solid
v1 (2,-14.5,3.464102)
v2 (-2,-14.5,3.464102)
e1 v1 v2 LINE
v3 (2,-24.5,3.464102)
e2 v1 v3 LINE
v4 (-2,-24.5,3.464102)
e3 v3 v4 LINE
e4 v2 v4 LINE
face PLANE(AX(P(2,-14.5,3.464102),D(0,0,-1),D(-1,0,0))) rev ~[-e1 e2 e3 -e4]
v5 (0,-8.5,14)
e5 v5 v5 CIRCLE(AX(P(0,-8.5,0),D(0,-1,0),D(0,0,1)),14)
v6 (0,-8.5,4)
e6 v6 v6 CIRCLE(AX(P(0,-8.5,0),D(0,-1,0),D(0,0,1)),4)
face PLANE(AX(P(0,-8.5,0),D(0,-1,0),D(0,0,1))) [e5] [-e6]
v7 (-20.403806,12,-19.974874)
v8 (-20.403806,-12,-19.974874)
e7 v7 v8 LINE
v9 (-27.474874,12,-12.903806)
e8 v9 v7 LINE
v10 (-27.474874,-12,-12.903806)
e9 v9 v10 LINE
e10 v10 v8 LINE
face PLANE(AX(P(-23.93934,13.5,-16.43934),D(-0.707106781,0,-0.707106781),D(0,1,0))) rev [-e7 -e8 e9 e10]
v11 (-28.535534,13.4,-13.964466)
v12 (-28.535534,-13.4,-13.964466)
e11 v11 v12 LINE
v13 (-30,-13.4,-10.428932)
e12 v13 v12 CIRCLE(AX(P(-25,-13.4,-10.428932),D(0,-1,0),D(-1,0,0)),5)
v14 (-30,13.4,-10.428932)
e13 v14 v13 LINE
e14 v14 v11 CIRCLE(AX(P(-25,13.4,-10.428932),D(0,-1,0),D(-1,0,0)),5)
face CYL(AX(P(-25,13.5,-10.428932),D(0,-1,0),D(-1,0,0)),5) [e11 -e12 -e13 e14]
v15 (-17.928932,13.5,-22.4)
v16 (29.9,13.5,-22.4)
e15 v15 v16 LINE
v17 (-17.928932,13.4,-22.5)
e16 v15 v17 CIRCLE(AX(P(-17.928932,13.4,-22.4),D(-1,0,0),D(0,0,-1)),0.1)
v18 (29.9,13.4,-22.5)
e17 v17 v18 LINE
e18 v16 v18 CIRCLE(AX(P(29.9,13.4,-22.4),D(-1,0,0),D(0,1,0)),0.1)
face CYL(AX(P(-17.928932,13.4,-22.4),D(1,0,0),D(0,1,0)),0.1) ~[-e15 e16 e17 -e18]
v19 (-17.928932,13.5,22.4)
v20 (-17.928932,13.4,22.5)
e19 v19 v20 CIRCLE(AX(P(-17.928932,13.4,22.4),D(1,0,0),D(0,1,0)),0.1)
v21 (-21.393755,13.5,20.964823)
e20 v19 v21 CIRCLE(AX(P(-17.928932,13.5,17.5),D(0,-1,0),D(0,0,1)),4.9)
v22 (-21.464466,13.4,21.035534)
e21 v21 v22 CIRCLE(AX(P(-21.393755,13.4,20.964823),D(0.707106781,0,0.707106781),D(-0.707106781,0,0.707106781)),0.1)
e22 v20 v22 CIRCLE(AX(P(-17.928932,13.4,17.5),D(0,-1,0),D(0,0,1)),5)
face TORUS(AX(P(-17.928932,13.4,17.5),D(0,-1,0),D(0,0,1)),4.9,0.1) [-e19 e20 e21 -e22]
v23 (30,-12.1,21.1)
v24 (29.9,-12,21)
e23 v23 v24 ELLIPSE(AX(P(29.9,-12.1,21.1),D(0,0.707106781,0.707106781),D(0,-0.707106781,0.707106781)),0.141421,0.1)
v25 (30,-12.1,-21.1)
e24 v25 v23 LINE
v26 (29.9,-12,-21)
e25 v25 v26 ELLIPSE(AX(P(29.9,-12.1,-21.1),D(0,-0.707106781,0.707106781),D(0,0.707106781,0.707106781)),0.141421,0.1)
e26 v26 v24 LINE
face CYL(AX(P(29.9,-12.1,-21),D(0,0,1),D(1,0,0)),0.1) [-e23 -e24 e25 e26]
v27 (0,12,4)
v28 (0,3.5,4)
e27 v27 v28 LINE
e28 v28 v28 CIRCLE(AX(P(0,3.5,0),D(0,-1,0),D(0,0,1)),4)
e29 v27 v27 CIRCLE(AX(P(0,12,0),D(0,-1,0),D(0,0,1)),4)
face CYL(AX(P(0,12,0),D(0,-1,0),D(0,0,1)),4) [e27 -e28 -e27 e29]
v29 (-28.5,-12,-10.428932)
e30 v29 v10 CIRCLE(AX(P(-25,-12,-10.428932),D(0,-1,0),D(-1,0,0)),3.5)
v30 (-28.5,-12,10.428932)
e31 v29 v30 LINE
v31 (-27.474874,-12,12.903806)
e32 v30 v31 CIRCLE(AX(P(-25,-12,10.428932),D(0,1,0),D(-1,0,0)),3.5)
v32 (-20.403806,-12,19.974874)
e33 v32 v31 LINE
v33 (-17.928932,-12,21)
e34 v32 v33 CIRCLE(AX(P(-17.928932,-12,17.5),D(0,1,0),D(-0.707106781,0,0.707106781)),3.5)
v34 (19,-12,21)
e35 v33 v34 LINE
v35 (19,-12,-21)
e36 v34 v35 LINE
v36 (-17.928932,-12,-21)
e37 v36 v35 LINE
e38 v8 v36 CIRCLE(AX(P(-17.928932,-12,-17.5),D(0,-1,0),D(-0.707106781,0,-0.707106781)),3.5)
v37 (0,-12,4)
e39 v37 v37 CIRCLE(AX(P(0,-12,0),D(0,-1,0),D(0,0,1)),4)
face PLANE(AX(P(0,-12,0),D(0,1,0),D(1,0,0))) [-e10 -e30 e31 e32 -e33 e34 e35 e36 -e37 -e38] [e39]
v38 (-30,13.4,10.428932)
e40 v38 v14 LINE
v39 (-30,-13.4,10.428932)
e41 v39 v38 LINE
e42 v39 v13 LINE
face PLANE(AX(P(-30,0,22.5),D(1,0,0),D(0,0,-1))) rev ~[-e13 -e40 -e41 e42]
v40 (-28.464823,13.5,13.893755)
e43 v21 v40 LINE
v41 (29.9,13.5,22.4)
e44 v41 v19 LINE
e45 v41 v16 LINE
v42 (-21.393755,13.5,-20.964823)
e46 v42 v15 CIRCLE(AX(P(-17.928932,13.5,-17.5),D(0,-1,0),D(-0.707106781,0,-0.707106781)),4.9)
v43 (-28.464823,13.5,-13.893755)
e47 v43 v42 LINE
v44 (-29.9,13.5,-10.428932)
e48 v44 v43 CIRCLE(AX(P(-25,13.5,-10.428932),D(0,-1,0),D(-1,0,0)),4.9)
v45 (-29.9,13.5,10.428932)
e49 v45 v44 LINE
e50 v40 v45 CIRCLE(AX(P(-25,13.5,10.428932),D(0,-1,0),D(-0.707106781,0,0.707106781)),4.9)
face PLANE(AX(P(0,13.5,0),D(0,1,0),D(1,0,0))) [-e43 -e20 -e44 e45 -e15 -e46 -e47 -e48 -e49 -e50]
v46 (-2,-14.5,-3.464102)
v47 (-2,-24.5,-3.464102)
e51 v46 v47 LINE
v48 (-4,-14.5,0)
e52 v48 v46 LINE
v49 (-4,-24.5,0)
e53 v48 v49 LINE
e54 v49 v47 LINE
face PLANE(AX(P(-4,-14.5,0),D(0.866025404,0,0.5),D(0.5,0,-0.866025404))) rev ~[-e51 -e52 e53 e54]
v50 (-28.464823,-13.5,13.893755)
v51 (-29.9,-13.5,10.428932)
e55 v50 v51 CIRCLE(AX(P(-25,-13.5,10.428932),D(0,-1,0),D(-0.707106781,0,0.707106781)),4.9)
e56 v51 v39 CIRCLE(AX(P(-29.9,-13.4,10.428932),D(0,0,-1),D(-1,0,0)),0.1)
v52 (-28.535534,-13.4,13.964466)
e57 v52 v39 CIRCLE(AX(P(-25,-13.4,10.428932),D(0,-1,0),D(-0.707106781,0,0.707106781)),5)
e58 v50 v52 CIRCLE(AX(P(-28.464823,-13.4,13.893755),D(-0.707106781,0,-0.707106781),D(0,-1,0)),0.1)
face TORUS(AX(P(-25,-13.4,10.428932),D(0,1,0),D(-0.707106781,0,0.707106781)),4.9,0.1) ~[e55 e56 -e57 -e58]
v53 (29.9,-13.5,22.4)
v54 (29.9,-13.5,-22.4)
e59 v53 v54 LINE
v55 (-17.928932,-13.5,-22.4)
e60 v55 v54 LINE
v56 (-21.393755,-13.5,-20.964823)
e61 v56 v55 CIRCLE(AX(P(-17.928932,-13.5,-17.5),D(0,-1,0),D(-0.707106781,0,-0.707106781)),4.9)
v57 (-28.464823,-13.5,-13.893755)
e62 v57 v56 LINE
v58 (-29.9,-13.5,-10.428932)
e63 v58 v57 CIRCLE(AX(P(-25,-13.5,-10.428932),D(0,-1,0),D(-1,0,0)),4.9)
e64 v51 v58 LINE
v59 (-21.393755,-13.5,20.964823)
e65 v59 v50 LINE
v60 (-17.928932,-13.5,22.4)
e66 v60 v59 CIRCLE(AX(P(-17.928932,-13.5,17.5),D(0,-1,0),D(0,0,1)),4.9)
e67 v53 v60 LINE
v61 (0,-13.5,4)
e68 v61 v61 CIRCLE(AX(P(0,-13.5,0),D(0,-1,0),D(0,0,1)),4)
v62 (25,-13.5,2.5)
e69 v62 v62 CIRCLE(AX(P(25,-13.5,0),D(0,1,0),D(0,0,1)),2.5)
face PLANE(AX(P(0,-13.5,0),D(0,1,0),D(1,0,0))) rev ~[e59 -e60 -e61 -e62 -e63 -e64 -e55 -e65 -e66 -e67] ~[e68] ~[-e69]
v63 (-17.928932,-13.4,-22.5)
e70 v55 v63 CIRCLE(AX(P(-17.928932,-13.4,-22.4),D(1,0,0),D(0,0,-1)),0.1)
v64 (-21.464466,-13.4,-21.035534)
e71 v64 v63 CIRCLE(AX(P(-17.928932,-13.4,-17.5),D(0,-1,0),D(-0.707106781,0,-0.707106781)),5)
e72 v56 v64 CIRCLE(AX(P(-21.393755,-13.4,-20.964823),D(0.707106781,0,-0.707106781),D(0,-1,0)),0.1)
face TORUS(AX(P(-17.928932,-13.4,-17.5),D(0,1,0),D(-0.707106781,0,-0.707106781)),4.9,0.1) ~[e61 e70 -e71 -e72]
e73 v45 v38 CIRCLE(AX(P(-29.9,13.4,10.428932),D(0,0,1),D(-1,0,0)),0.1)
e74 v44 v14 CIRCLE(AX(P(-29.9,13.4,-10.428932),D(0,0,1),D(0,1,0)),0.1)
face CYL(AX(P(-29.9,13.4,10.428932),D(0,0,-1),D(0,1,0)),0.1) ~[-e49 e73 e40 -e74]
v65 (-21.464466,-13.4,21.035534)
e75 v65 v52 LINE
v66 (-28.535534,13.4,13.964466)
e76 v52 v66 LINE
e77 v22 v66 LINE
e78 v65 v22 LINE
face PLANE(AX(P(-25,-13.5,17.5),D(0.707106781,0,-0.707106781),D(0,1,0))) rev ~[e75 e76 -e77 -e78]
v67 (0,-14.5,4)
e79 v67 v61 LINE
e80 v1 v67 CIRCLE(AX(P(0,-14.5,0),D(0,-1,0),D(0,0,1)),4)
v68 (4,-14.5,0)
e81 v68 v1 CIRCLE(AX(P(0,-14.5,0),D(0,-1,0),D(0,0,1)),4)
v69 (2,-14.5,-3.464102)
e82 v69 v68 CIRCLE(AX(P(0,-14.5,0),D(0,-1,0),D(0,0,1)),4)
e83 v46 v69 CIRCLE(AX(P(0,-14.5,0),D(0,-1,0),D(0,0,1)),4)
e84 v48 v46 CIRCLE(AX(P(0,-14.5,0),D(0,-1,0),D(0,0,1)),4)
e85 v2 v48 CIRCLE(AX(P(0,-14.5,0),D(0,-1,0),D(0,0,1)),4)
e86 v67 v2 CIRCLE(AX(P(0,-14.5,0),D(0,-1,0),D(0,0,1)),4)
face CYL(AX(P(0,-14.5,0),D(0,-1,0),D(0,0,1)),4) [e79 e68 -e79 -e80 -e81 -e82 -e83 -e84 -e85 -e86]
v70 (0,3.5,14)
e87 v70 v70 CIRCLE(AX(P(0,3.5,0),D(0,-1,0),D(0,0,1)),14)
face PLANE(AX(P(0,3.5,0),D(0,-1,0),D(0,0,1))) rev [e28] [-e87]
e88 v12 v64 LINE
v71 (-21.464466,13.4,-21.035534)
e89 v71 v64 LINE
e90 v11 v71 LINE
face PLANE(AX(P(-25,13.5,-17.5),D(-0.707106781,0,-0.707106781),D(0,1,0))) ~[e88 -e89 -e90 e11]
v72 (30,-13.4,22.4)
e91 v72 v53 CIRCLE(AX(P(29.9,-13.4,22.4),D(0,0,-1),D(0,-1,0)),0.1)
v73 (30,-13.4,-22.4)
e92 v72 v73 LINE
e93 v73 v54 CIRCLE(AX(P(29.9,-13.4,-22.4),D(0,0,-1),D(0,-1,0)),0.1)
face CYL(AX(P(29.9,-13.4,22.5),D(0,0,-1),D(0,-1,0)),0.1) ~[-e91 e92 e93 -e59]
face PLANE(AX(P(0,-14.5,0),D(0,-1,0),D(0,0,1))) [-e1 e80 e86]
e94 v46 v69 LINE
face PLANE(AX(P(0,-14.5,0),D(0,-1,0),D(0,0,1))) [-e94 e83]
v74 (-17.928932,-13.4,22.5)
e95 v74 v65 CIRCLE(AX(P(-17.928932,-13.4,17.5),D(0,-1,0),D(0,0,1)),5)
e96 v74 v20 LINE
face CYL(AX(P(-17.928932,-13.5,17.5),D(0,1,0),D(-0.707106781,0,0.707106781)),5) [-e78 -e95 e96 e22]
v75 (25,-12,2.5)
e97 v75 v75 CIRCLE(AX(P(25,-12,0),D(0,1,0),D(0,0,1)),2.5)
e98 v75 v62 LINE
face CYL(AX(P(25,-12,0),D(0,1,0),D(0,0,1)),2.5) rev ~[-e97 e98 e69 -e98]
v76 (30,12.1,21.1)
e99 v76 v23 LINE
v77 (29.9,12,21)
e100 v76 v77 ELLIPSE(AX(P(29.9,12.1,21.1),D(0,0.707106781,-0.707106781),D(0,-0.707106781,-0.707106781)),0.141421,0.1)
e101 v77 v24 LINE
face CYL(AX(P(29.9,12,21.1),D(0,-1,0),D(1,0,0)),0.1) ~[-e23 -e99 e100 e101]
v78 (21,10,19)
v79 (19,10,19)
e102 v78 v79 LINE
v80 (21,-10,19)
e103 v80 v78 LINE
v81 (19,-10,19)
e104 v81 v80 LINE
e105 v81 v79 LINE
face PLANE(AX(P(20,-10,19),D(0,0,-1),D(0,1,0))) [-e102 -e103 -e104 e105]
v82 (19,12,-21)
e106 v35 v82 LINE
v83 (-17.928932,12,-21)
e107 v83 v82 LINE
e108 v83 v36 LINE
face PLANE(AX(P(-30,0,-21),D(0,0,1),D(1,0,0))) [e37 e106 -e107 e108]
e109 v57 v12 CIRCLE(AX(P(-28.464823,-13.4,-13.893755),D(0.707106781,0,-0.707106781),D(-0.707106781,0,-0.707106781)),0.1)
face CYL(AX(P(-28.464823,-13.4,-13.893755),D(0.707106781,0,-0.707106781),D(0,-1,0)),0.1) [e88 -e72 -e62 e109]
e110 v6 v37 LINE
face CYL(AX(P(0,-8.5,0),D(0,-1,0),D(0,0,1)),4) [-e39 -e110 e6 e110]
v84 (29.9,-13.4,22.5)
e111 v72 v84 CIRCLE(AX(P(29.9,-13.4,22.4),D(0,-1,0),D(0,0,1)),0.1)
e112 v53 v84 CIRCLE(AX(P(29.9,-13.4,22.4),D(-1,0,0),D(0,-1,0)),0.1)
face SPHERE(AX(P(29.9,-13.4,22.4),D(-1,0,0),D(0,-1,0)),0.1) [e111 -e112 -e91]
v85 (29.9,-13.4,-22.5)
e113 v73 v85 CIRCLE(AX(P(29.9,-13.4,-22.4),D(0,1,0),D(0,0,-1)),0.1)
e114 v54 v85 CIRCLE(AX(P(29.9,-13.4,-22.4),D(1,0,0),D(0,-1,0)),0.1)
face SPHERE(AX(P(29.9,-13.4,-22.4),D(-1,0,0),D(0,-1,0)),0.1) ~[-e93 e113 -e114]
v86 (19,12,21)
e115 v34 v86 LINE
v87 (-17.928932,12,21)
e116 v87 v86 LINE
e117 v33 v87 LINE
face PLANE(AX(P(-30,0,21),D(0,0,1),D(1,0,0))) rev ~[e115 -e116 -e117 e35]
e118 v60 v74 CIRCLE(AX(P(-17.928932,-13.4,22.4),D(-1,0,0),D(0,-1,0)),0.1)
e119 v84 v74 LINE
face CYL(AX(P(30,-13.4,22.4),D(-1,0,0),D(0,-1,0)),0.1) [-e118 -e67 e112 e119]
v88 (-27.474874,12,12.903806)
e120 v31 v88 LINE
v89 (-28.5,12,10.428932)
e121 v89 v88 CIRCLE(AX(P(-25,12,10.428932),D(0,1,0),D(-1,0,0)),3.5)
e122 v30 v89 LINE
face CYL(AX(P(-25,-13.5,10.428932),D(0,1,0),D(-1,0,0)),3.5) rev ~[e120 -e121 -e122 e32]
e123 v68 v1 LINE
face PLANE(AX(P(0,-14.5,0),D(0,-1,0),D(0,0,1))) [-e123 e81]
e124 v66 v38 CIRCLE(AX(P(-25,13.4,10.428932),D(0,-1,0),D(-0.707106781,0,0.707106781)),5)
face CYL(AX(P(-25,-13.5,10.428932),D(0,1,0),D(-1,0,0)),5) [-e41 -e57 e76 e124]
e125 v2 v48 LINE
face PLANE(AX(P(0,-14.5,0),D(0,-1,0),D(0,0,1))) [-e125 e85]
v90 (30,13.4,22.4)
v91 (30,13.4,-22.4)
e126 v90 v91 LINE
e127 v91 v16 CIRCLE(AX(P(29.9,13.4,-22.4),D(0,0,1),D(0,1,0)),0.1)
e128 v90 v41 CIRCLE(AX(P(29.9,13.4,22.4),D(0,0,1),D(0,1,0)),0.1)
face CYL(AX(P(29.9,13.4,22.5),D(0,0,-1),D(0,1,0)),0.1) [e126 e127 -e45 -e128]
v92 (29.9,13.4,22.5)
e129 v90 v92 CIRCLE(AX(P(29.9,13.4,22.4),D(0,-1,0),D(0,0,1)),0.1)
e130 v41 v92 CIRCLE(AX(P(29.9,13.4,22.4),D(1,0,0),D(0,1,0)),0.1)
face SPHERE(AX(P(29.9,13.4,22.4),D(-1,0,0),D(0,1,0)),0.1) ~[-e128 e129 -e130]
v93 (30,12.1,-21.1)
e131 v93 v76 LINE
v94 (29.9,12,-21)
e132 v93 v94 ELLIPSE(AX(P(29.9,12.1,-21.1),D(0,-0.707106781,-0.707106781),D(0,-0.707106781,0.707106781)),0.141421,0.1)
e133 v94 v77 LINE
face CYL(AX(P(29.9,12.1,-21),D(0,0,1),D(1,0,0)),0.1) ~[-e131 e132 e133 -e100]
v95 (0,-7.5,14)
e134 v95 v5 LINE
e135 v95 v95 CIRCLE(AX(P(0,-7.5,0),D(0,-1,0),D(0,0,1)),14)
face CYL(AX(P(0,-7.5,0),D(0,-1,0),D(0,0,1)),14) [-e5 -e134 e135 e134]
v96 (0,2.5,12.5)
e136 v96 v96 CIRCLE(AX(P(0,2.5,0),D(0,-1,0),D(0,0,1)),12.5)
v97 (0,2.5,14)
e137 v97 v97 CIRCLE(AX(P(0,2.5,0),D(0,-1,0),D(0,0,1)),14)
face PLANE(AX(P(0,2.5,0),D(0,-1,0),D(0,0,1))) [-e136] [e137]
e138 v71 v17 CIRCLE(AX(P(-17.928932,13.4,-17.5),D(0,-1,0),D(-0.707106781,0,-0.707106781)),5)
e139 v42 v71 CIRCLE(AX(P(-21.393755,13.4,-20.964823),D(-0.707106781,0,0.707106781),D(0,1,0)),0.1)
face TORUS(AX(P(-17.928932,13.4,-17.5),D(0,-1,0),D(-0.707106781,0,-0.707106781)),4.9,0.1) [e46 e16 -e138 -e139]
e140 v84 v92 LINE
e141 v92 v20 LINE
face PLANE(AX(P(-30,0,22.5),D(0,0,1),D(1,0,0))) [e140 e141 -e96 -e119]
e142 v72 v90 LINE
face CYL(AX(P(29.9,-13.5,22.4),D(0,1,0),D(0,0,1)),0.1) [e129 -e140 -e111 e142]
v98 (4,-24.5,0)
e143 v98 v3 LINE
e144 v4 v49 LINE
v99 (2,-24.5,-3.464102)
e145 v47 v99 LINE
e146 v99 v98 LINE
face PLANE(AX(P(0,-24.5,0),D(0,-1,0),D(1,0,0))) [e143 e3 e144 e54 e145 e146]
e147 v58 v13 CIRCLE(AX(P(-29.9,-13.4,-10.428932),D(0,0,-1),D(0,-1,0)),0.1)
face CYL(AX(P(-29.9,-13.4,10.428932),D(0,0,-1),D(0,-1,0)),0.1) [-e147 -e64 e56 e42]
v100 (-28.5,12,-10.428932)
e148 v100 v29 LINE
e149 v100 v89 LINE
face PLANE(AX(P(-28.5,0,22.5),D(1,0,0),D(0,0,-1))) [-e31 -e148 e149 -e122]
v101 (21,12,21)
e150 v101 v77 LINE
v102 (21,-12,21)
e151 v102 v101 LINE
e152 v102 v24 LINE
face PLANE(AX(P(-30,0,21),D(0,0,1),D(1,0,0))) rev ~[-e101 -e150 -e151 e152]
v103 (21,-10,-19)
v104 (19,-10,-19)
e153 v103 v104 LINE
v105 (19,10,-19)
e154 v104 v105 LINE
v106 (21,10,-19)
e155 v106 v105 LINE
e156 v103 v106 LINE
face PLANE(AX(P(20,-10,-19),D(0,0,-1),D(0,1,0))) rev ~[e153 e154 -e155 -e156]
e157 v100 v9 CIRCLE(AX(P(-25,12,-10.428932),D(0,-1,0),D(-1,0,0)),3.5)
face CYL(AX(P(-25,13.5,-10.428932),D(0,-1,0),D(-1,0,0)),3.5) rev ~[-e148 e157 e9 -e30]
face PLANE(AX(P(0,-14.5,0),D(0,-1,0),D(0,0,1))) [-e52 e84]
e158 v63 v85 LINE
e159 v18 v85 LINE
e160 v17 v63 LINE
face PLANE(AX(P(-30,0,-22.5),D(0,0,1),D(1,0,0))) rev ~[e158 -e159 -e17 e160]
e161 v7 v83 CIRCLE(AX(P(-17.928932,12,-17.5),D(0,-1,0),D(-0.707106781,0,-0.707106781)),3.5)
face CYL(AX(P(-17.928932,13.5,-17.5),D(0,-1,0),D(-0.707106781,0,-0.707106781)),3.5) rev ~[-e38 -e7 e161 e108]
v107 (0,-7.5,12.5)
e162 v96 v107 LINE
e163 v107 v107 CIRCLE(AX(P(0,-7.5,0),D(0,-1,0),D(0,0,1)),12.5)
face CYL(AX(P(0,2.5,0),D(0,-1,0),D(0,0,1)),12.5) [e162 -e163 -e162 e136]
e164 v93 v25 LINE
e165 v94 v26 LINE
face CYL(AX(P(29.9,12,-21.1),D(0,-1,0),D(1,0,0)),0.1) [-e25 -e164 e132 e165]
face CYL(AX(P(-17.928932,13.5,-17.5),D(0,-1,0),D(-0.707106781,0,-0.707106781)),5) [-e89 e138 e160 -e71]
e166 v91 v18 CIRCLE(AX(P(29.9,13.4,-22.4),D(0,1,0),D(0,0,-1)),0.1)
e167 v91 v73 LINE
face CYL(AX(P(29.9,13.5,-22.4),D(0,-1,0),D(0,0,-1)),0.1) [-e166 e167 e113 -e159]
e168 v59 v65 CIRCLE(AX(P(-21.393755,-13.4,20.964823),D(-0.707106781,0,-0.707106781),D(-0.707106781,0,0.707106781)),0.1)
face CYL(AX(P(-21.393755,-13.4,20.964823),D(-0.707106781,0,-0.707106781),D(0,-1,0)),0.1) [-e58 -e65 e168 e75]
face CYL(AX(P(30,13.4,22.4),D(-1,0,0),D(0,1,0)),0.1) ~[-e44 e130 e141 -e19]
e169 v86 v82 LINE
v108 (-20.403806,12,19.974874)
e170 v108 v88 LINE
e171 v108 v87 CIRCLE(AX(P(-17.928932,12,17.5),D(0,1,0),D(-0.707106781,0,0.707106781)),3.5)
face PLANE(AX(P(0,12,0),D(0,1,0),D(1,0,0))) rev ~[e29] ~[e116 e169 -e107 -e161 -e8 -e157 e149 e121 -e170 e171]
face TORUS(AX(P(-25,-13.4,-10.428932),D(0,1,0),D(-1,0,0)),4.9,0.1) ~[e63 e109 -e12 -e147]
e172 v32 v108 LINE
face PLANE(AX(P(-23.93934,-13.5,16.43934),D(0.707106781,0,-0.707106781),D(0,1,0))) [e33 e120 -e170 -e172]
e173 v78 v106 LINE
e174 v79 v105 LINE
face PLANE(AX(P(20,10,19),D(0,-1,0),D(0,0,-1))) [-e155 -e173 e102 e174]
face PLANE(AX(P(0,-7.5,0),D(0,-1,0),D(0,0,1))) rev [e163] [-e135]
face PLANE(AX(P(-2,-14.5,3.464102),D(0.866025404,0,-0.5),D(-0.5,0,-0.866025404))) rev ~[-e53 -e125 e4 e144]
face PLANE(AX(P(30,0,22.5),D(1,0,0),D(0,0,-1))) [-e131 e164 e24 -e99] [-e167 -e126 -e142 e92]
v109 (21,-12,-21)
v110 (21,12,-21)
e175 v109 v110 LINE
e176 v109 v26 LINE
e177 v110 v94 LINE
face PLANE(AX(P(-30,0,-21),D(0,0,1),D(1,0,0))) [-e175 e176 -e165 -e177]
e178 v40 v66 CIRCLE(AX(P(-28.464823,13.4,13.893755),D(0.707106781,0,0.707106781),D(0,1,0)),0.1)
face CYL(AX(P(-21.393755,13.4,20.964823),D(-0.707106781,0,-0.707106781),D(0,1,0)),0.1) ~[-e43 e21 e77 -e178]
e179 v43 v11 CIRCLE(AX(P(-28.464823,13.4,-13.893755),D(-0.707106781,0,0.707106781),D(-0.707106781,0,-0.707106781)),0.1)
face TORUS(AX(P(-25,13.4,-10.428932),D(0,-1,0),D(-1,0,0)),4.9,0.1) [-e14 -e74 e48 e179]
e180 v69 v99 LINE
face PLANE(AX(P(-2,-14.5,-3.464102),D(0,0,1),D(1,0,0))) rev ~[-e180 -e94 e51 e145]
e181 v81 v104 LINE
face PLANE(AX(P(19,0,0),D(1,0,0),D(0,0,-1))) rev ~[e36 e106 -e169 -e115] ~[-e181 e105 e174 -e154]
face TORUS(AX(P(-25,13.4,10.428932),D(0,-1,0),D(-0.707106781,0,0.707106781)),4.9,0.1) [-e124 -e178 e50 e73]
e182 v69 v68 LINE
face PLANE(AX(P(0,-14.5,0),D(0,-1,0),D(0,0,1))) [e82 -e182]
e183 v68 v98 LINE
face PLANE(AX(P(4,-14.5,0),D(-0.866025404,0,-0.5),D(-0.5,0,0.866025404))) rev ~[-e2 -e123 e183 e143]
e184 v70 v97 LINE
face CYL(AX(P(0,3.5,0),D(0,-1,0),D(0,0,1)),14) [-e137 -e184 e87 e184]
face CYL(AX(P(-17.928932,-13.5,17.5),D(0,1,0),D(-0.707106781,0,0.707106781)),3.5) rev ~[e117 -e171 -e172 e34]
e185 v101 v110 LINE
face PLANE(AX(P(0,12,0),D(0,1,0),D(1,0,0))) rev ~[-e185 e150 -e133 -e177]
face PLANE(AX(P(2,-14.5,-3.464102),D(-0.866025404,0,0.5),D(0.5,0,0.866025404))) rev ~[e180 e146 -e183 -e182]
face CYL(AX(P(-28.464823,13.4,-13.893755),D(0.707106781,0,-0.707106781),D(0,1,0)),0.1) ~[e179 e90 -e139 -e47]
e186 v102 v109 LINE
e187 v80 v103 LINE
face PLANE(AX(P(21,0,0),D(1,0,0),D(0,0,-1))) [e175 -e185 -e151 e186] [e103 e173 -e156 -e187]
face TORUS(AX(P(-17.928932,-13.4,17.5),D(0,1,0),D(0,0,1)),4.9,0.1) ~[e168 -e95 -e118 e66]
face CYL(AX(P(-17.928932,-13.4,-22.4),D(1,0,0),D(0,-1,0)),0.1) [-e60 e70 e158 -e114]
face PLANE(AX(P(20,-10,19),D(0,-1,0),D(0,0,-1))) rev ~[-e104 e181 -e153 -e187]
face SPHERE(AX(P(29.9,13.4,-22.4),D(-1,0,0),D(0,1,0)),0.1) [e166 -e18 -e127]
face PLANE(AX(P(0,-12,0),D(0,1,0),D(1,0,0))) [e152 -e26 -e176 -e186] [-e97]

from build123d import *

# Parameters (mm, degrees)
SKETCH_1_W          = 60
SKETCH_1_H          = 45
EXTRUDE_1_DEPTH     = 13.5
CHAMFER_1_SIZE      = 10
FILLET_1_R          = 5
SHELL_1_T           = -1.5
FILLET_2_R          = 0.1
SKETCH_4_W          = 42
SKETCH_4_H          = 24
SKETCH_4_W_2        = 38
SKETCH_4_H_2        = 20
EXTRUDE_1_2_DEPTH   = 1
EXTRUDE_START       = 1
SKETCH_5_R          = 4
EXTRUDE_2_DEPTH     = 1
EXTRUDE_3_DEPTH     = 10
CUT_EXTRUDE_1_REACH = 47.349
SKETCH_7_R          = 2.5


with BuildPart() as part:
    # 草图1 → Extrude 1 (new, symmetric)
    with BuildSketch(Plane(origin=(0, 0, 0), x_dir=(1, 0, 0), z_dir=(0, 1, 0))):
        Rectangle(SKETCH_1_W, SKETCH_1_H)
    extrude(amount=EXTRUDE_1_DEPTH, both=True)

    # 倒角1
    chamfer_1_edges = [part.edges().sort_by_distance(p)[0] for p in [
        (-30, 0, 22.5),
        (-30, 0, -22.5),
    ]]
    chamfer(chamfer_1_edges, length=CHAMFER_1_SIZE)

    # 圆角1
    fillet_1_edges = [part.edges().sort_by_distance(p)[0] for p in [
        (-30, 0, 12.5),
        (-30, 0, -12.5),
        (-20, 0, -22.5),
        (-20, 0, 22.5),
    ]]
    fillet(fillet_1_edges, radius=FILLET_1_R)

    # 抽壳1
    shell_1_openings = [part.faces().sort_by_distance(p)[0] for p in [
        (30, 0, 0),
    ]]
    offset(amount=SHELL_1_T, openings=shell_1_openings, kind=Kind.INTERSECTION)

    # 圆角2
    fillet_2_edges = [part.edges().sort_by_distance(p)[0] for p in [
        (-25, 13.5, -17.5),
        (-30, 13.5, 0),
        (-25, 13.5, 17.5),
        (6.035533906, 13.5, 22.5),
        (-19.84234935, 13.5, 22.119397663),
        (-29.619397663, 13.5, 12.34234935),
        (-29.619397663, 13.5, -12.34234935),
        (-19.84234935, 13.5, -22.119397663),
        (-25, -13.5, -17.5),
        (-30, -13.5, 0),
        (6.035533906, -13.5, 22.5),
        (-25, -13.5, 17.5),
        (-19.84234935, -13.5, 22.119397663),
        (-29.619397663, -13.5, 12.34234935),
        (-29.619397663, -13.5, -12.34234935),
        (-19.84234935, -13.5, -22.119397663),
        (30, 13.5, 0),
        (6.035533906, -13.5, -22.5),
        (30, -12, 0),
        (30, 0, 21),
        (30, 0, -21),
        (30, 12, 0),
        (30, -13.5, 0),
        (6.035533906, 13.5, -22.5),
        (30, 0, 22.5),
        (30, 0, -22.5),
    ]]
    fillet(fillet_2_edges, radius=FILLET_2_R)

    # 草图3 → 旋转1 (revolve)
    with BuildSketch(Plane.XY, mode=Mode.PRIVATE) as revolve_1_sk:
        Polygon((0, 12), (4, 12), (4, 3.5), (14, 3.5), (14, 2.5), (12.5, 2.5), (12.5, -7.5), (14, -7.5), (14, -8.5), (4, -8.5), (4, -12), (0, -12), align=None)
    revolve(revolve_1_sk.sketch.rotate(Axis((0, 13.4, 0), (0, -1, 0)), 90), axis=Axis((0, 13.4, 0), (0, -1, 0)))

    # 草图4 → Extrude 1 2 (add, symmetric)
    with BuildSketch(Plane(origin=(20, 0, 0), x_dir=(0, 0, -1), z_dir=(1, 0, 0))):
        Rectangle(SKETCH_4_W, SKETCH_4_H)
        Rectangle(SKETCH_4_W_2, SKETCH_4_H_2, mode=Mode.SUBTRACT)
    extrude(amount=EXTRUDE_1_2_DEPTH, both=True)

    # 草图5 → 凸台-拉伸2 (add)
    with BuildSketch(Plane.XZ.offset(13.5).offset(EXTRUDE_START)):
        with Locations(Location((0, 0, 0), (0, 0, 90))):
            Circle(SKETCH_5_R)
    extrude(amount=-EXTRUDE_2_DEPTH)

    # 草图6 → 凸台-拉伸3 (add)
    with BuildSketch(Plane.XZ.offset(14.5)):
        Polygon((4, 0), (2, 3.464101615), (-2, 3.464101615), (-4, 0), (-2, -3.464101615), (2, -3.464101615), align=None)
    extrude(amount=EXTRUDE_3_DEPTH)

    # 草图7 → 切除-拉伸1 (cut, up to next)
    with BuildSketch(Plane(origin=(0, -12, 0), x_dir=(1, 0, 0), z_dir=(0, 1, 0)), mode=Mode.PRIVATE) as cut_extrude_1_sk1:
        with Locations(Location((25, 0, 0), (0, 0, 270))):
            Circle(SKETCH_7_R)
    cut_extrude_1_tool1 = extrude(cut_extrude_1_sk1.sketch, amount=-CUT_EXTRUDE_1_REACH, mode=Mode.PRIVATE) & part.part
    add(cut_extrude_1_tool1.solids().sort_by_distance((25, -12, 0))[0], mode=Mode.SUBTRACT)


solid = part.part
